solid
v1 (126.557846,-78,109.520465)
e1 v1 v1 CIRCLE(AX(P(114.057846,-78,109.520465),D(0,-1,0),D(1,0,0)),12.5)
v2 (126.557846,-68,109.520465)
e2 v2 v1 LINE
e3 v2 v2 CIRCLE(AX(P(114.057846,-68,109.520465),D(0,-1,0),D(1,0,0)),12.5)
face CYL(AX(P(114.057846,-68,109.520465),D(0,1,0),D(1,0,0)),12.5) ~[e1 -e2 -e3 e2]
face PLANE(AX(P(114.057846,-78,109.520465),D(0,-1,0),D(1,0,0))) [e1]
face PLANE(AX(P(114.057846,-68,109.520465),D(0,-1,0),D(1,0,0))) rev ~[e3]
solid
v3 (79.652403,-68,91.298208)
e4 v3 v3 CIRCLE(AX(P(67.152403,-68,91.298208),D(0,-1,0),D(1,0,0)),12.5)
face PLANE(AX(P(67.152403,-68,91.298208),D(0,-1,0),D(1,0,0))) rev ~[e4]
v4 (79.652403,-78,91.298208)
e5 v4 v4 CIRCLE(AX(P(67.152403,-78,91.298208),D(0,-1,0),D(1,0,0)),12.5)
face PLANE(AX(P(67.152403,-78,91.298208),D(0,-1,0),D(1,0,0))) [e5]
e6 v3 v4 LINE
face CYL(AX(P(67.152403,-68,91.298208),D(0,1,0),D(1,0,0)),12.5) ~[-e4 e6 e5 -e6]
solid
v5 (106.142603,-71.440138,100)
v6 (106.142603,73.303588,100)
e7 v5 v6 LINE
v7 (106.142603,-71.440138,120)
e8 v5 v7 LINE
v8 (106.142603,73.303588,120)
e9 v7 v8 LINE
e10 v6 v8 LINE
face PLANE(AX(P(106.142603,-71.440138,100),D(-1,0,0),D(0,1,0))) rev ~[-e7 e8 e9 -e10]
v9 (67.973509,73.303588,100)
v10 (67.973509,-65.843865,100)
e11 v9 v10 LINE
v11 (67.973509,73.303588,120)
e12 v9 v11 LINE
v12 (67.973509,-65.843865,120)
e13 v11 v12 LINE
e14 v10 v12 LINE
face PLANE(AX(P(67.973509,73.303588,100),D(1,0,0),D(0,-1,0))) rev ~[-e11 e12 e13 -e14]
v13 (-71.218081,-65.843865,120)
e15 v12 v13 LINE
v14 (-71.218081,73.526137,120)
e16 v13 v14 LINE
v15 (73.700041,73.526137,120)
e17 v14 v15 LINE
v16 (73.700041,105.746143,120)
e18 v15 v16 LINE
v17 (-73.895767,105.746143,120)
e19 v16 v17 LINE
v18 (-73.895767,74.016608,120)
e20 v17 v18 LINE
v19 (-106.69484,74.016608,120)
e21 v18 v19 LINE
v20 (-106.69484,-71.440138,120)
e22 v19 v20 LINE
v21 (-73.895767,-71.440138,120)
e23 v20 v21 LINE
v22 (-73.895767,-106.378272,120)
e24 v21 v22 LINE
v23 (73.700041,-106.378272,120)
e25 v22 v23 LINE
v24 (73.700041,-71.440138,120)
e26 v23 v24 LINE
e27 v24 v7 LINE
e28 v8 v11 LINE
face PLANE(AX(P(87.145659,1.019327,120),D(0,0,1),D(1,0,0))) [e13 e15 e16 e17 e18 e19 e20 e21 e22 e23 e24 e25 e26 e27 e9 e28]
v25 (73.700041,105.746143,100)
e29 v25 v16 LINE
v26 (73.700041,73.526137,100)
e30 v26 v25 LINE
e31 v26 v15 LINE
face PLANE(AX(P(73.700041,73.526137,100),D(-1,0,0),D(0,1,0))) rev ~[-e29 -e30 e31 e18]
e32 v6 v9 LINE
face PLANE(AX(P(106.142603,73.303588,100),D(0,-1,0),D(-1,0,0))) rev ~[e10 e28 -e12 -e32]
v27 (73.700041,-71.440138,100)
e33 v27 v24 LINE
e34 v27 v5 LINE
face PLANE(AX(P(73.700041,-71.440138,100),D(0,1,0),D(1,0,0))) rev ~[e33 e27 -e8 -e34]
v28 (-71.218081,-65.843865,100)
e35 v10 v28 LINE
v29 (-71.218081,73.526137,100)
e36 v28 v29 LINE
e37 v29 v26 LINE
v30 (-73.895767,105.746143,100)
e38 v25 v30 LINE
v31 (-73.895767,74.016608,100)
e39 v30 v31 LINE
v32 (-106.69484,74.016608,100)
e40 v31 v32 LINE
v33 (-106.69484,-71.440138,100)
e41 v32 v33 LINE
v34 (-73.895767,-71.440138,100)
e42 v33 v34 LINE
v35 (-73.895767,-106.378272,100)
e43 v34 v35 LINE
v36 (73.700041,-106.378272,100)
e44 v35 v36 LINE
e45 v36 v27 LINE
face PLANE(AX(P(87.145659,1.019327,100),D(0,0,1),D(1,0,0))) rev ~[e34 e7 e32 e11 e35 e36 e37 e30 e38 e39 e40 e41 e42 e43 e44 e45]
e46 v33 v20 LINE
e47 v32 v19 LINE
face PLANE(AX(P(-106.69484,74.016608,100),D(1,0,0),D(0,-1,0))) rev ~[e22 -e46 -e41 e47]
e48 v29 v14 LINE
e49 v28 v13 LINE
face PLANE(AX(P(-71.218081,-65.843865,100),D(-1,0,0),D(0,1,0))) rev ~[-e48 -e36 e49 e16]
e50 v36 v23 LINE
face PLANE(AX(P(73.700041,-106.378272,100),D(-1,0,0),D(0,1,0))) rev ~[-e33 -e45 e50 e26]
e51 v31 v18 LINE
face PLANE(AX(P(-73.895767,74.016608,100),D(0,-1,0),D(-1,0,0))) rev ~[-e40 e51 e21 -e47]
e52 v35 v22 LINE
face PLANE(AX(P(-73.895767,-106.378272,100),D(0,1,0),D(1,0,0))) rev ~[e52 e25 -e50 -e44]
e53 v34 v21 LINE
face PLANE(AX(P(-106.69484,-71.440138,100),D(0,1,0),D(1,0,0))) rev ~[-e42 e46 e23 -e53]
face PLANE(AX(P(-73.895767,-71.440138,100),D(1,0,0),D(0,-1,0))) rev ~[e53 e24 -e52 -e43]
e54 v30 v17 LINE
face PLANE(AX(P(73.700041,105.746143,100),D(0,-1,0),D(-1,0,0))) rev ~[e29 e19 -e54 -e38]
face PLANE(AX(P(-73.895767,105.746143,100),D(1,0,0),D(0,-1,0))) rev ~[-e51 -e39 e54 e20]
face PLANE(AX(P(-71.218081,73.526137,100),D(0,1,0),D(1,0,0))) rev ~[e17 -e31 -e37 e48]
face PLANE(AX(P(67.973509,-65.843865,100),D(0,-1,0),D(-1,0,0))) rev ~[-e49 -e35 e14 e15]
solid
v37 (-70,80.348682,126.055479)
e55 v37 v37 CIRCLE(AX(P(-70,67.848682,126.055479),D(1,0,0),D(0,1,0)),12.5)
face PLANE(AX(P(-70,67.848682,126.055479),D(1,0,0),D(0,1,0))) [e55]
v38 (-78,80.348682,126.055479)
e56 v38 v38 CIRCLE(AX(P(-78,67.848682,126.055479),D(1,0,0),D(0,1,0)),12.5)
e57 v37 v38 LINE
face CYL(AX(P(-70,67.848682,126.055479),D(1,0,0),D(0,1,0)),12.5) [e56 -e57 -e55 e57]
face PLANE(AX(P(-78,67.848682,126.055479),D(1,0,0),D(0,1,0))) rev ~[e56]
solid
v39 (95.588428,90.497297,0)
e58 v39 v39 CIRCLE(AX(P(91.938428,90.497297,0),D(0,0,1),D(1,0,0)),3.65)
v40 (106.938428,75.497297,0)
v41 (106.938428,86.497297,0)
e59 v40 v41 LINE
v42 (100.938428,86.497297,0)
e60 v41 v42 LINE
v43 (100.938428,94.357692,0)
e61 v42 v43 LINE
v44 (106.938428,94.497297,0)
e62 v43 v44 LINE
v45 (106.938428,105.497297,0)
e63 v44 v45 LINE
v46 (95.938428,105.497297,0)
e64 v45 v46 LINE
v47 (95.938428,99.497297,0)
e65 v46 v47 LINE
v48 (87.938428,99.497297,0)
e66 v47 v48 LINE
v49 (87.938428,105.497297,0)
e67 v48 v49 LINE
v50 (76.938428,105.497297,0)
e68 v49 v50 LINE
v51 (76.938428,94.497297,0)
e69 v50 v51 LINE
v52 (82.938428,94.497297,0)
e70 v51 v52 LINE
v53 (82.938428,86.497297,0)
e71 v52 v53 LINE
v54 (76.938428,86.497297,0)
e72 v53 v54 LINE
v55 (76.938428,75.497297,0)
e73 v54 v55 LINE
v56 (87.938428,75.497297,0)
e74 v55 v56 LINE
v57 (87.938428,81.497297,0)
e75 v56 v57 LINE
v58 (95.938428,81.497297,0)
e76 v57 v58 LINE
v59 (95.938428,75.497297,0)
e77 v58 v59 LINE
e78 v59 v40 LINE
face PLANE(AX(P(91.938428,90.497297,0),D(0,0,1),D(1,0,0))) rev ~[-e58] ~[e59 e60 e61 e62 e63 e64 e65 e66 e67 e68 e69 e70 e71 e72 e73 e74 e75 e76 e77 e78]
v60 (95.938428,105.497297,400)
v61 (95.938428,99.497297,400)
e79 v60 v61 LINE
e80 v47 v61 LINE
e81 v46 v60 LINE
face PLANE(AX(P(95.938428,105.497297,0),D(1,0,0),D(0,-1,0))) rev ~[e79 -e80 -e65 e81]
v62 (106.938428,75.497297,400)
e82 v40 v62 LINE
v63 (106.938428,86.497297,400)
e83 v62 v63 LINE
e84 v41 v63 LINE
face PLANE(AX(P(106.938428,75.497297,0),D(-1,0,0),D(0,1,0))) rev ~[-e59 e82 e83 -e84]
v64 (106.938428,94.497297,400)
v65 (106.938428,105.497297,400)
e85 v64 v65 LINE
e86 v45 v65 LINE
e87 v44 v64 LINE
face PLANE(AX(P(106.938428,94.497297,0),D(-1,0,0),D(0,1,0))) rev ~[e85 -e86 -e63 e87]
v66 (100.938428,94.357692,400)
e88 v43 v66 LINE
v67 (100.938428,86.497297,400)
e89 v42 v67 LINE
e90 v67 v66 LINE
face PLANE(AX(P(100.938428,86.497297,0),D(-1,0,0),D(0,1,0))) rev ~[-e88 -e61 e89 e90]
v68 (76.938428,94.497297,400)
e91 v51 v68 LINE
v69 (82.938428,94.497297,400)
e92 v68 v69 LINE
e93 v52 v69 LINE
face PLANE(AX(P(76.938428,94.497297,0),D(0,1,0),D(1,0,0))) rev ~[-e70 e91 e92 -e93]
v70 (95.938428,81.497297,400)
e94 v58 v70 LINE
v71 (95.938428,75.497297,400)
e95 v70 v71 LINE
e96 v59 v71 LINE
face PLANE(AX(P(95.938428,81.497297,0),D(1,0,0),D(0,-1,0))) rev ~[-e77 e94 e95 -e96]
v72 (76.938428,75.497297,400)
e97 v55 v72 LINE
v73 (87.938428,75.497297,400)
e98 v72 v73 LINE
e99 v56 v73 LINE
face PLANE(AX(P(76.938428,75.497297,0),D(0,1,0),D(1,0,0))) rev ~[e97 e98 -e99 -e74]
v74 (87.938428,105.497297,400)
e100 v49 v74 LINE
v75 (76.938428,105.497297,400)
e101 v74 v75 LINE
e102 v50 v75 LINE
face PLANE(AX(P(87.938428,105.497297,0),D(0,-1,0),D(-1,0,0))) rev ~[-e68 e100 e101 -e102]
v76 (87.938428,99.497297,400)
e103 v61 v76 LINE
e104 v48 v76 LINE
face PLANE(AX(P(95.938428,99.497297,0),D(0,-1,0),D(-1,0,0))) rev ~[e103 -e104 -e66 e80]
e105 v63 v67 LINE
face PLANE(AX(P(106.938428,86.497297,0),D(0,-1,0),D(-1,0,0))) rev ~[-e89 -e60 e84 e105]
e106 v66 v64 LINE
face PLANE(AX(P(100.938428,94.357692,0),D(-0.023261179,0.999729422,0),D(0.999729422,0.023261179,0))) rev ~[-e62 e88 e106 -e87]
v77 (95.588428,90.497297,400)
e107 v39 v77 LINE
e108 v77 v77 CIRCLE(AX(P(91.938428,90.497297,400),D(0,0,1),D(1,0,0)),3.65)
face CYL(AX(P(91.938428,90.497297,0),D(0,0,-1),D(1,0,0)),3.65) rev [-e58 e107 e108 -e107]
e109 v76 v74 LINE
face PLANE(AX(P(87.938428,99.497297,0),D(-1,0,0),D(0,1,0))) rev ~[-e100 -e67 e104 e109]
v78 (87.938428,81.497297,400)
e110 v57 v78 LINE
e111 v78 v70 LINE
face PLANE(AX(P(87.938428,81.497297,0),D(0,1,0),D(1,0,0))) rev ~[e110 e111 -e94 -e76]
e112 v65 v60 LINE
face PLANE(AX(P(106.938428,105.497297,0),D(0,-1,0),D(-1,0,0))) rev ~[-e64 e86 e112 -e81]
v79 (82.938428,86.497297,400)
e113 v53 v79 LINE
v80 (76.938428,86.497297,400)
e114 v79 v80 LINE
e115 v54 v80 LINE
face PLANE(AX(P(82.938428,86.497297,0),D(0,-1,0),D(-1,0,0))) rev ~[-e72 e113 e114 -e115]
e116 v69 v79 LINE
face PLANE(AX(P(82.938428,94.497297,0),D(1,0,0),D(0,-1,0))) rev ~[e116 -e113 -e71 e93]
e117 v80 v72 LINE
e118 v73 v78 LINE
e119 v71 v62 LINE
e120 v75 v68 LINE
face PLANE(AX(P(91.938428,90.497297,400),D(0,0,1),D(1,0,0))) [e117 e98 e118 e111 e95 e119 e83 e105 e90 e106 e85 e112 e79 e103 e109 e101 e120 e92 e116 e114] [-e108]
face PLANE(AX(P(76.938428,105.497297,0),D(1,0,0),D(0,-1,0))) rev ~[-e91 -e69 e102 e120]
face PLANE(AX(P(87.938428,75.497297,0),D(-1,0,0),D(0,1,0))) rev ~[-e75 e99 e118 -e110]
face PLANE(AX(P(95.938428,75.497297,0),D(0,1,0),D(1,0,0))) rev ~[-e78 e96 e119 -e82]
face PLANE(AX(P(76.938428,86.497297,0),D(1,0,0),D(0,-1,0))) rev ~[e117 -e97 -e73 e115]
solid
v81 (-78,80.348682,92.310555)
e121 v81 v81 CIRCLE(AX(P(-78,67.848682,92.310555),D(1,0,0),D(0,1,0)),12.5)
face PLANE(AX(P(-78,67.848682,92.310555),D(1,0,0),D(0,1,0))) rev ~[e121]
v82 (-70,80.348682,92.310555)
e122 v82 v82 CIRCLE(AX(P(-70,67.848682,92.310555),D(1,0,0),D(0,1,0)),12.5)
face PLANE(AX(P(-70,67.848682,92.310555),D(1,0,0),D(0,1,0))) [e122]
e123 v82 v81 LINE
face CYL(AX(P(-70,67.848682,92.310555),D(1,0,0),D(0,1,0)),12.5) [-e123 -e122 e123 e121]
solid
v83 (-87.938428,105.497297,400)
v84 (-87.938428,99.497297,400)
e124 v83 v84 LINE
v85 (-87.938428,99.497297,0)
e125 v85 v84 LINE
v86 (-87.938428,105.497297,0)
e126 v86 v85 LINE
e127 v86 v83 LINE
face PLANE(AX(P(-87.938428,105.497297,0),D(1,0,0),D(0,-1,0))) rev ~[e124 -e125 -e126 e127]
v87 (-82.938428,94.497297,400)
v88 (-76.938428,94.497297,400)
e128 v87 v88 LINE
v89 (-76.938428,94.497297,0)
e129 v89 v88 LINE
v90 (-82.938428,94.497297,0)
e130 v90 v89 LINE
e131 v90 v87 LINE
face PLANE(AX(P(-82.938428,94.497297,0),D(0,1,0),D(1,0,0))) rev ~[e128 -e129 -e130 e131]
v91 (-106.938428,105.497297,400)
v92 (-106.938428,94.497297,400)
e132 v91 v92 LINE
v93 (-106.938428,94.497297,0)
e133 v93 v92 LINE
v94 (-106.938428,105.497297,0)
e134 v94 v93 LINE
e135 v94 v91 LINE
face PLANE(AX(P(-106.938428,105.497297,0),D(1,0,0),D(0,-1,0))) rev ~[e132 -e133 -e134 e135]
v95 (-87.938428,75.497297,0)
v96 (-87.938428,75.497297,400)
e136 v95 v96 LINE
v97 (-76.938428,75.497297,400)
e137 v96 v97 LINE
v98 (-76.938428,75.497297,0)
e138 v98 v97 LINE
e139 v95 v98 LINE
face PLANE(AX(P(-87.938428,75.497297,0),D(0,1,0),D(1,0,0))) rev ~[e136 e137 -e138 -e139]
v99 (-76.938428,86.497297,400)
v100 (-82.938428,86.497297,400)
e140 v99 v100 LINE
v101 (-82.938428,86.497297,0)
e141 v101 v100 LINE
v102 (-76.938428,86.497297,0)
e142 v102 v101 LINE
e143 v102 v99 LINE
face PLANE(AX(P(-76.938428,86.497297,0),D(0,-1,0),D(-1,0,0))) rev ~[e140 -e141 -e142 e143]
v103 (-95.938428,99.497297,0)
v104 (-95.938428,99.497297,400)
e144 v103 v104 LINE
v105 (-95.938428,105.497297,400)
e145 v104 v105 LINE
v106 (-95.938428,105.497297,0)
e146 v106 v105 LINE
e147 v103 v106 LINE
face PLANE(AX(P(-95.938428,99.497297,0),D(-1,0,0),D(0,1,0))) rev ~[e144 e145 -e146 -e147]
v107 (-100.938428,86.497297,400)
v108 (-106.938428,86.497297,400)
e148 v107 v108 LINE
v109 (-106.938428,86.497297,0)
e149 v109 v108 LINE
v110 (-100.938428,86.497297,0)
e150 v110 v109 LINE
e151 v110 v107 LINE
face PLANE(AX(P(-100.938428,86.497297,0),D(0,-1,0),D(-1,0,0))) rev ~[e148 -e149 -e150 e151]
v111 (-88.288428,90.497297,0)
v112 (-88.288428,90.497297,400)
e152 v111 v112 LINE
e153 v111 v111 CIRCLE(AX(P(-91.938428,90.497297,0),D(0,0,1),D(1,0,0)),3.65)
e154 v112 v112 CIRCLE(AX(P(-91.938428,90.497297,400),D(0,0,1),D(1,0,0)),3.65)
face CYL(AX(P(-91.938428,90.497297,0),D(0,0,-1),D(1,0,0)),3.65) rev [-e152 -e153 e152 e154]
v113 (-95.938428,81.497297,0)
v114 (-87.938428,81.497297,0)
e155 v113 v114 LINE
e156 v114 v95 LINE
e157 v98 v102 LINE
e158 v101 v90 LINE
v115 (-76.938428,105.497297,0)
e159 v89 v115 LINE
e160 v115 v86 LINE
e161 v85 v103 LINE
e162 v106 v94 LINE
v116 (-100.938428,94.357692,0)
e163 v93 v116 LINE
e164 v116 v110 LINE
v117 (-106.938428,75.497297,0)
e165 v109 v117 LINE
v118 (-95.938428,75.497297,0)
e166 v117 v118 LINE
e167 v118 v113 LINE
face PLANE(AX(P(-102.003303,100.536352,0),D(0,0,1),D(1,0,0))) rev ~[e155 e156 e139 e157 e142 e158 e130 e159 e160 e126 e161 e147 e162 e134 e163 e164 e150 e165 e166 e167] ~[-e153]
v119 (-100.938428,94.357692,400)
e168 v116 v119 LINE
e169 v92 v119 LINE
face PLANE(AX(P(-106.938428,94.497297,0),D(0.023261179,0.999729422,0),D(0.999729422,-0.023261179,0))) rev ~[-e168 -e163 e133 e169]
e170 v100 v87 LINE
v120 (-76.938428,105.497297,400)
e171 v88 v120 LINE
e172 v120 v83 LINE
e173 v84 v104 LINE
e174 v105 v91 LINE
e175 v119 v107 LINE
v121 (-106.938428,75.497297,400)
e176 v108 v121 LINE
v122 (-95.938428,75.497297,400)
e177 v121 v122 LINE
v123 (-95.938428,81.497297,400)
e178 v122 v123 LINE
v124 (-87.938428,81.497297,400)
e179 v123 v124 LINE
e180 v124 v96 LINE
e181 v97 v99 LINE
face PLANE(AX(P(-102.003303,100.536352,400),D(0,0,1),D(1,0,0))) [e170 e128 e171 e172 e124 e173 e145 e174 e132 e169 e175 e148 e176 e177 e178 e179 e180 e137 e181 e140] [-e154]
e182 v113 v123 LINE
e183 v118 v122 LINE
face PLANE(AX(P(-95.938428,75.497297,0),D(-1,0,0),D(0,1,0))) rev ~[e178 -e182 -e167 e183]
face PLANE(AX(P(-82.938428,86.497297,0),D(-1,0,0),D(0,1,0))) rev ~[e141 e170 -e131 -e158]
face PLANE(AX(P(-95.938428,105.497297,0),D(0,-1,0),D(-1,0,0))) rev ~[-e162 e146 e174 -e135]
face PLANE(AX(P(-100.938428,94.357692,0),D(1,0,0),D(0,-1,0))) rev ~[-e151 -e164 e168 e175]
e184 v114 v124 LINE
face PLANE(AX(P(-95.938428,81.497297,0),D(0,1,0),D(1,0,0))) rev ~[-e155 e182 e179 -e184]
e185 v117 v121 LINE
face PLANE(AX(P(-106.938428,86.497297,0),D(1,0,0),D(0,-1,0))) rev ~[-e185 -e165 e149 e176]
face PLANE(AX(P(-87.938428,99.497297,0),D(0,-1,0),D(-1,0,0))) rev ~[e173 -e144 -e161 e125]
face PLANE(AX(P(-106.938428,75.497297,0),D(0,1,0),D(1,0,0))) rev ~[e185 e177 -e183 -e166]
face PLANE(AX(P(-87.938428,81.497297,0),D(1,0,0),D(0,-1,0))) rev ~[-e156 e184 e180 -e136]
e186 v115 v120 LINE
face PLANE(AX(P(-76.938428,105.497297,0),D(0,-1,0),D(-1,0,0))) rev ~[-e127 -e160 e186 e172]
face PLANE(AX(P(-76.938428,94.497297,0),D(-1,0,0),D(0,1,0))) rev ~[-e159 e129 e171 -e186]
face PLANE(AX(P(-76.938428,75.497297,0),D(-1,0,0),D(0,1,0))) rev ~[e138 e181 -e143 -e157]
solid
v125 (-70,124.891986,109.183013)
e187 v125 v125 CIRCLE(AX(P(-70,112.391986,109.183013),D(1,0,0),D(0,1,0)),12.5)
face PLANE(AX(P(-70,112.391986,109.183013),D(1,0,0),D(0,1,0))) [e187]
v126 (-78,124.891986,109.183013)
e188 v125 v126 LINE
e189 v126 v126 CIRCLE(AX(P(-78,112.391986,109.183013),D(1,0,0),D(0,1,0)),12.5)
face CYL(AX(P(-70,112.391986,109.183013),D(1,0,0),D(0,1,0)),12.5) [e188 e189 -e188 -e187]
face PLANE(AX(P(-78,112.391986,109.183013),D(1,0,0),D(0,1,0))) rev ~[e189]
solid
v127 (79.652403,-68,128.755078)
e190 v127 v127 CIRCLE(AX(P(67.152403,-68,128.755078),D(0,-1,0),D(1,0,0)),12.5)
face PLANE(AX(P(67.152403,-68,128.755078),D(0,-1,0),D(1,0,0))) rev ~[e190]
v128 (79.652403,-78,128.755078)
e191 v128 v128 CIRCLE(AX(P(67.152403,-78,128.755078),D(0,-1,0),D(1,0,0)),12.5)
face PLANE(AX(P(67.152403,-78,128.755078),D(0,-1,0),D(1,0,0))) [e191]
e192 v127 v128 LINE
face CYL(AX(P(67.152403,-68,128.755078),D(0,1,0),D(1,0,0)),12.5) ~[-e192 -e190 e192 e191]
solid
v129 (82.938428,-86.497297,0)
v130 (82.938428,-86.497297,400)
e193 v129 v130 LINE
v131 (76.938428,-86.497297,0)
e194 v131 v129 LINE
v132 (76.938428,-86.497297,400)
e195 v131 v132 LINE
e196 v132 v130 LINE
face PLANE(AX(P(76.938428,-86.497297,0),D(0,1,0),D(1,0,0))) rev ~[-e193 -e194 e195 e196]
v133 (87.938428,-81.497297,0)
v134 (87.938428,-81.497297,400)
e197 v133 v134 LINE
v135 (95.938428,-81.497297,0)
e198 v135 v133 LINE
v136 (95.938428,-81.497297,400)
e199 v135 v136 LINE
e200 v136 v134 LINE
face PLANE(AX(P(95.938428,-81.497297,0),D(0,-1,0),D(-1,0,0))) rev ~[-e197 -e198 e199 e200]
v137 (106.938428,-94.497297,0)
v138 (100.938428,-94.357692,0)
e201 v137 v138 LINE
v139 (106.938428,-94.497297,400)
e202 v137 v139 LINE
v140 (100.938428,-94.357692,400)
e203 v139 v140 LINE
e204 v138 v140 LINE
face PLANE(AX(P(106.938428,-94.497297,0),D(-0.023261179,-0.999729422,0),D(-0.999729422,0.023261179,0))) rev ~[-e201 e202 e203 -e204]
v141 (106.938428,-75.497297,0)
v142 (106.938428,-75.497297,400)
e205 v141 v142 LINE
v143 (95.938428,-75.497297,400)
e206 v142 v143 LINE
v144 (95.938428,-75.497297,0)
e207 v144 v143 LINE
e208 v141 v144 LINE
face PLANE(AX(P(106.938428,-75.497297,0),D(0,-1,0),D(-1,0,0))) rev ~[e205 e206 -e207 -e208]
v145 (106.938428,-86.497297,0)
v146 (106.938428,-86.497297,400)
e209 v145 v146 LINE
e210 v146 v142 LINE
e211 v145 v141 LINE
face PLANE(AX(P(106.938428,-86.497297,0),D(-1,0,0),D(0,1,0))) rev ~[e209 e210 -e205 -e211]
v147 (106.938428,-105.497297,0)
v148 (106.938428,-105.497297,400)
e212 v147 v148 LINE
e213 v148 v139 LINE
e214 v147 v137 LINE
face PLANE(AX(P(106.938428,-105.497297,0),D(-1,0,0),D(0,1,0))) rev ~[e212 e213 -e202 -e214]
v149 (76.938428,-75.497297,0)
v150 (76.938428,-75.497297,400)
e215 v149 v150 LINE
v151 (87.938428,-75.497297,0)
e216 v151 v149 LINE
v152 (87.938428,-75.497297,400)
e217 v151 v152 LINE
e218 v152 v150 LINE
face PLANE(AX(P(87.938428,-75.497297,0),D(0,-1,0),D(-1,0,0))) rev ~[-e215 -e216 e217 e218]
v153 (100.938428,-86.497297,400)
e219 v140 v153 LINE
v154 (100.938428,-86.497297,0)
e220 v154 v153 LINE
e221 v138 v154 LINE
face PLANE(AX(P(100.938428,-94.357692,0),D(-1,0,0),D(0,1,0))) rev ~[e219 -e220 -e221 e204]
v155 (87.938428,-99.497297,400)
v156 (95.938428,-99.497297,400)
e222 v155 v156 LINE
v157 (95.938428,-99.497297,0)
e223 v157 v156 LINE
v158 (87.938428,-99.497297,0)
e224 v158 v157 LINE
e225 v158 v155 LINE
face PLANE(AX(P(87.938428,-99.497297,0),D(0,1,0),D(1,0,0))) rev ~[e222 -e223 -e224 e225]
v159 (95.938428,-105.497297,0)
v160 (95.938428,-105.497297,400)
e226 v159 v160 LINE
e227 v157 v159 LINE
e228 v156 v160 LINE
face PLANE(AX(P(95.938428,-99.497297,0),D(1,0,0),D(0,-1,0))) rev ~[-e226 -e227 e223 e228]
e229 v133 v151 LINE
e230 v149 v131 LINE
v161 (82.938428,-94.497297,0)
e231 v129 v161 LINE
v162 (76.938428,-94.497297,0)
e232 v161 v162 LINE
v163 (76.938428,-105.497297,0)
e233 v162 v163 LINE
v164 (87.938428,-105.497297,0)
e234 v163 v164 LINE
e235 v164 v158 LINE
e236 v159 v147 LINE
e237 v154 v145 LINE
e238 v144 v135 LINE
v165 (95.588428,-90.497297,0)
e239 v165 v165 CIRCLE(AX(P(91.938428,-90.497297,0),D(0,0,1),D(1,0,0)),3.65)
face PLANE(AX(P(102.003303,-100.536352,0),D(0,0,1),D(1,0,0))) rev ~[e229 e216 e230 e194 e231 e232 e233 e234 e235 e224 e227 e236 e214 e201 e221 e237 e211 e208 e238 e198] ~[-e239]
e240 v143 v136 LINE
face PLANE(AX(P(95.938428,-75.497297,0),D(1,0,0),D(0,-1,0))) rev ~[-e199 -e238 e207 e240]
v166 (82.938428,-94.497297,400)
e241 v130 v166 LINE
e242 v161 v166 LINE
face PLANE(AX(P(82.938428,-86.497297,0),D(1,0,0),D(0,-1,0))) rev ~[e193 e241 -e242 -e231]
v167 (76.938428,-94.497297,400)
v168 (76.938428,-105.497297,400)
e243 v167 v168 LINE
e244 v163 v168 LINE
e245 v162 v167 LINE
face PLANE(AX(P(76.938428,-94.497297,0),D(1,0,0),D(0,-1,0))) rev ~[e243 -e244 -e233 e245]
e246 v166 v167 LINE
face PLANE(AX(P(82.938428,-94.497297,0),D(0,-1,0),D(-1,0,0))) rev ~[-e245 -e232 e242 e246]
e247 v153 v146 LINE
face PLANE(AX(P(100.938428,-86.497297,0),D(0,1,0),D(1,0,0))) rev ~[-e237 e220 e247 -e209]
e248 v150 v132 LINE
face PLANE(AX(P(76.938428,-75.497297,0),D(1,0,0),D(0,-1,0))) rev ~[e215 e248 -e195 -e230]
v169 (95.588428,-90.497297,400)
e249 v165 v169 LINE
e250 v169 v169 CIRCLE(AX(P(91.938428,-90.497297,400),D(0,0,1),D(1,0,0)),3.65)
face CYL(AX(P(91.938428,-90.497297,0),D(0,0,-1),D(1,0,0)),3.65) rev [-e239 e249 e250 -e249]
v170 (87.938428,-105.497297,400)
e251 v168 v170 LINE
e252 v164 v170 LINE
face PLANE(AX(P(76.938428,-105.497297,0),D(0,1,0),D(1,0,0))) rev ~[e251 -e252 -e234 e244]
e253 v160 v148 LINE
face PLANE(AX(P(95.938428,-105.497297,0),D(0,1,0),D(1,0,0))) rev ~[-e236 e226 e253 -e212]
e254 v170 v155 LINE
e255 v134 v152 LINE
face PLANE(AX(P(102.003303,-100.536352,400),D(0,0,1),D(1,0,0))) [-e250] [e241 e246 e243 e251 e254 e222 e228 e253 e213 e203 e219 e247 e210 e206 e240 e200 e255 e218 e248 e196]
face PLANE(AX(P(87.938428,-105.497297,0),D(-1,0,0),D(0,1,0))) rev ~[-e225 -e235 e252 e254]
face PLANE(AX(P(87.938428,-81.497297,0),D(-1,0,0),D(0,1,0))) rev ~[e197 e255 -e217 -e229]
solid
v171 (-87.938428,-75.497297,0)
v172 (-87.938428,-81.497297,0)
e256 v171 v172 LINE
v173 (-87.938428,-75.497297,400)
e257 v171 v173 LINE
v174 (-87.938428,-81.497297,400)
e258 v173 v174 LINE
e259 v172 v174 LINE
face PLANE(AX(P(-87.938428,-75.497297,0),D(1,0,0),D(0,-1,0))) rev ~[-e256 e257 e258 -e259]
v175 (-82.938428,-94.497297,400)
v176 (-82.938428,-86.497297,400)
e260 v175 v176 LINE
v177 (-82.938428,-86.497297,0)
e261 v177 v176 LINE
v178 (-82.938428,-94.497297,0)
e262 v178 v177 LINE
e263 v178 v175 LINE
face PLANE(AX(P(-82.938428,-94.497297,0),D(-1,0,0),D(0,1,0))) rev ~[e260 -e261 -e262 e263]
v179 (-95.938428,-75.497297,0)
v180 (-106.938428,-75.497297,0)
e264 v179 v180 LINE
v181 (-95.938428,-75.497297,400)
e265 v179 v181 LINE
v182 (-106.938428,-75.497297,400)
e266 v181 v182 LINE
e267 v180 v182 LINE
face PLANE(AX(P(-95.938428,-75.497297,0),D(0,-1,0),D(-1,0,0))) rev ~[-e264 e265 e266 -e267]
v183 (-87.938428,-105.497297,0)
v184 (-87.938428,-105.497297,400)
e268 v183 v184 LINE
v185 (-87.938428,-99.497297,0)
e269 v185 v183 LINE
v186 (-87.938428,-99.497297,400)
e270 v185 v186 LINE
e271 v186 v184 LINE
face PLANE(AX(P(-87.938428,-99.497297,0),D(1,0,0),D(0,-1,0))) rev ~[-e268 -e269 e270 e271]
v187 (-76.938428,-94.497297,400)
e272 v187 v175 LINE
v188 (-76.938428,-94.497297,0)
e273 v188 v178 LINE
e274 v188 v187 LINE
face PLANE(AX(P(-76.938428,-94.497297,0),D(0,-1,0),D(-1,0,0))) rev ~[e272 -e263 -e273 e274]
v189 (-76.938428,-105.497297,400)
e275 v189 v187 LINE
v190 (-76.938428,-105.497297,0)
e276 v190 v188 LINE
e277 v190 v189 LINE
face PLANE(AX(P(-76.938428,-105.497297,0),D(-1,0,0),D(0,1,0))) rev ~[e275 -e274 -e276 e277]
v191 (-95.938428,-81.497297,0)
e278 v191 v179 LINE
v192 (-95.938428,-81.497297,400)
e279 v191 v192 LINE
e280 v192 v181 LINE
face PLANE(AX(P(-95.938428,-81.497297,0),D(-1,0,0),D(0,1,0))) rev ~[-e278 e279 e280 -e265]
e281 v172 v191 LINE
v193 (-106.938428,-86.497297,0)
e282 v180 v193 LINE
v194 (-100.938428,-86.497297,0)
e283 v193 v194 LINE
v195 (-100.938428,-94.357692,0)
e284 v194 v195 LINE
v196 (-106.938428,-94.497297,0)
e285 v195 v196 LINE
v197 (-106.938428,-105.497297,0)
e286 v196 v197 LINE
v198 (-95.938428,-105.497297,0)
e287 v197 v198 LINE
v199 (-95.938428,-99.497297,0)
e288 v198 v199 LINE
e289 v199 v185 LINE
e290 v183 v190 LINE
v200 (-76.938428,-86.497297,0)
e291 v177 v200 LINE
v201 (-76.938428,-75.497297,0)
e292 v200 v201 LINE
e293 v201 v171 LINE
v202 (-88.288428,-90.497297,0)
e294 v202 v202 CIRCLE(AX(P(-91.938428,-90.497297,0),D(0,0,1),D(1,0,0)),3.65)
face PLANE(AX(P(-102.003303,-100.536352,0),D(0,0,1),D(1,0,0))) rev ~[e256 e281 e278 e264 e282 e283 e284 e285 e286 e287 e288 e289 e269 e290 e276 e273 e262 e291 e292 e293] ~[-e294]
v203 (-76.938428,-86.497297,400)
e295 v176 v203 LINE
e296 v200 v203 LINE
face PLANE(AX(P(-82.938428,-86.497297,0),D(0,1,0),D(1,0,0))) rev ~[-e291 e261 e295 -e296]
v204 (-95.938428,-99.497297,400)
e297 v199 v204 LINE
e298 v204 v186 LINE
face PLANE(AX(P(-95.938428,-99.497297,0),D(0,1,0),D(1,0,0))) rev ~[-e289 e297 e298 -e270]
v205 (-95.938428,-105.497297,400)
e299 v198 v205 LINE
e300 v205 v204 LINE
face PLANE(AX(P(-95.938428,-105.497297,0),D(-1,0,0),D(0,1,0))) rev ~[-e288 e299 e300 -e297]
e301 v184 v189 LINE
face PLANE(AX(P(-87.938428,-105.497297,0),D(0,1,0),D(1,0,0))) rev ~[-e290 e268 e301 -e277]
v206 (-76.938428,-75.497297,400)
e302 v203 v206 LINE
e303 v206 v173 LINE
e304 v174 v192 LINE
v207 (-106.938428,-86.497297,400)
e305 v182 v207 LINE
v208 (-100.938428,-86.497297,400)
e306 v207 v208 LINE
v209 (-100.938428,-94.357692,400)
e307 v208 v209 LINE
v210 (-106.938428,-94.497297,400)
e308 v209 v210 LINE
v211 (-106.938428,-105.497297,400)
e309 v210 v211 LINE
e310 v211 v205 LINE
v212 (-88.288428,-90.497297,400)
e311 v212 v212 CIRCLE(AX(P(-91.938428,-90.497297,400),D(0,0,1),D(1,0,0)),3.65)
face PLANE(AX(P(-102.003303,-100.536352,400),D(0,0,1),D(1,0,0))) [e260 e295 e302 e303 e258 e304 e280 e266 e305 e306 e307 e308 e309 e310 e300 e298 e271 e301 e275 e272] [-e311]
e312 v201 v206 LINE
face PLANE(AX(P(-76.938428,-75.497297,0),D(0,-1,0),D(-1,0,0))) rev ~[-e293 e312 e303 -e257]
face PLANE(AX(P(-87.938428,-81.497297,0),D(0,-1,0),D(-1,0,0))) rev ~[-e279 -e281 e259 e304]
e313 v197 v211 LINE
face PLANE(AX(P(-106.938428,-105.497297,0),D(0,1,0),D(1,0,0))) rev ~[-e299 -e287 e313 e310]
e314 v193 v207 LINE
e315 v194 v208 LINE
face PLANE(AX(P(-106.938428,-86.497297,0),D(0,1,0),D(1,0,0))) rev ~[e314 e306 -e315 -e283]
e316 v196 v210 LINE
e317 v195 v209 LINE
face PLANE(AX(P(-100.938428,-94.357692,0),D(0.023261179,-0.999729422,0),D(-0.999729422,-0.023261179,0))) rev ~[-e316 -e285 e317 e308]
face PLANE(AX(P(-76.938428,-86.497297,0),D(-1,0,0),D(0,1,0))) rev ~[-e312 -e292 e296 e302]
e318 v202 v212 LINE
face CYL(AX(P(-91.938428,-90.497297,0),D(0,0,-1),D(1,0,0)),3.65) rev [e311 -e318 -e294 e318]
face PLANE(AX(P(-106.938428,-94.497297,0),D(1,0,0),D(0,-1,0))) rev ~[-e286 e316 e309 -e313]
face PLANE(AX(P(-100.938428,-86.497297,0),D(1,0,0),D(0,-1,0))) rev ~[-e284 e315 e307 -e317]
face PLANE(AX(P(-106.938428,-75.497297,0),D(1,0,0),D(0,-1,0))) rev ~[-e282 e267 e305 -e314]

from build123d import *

# Parameters (mm, degrees)
F0_R     = 3.65
F1_DEPTH = 400
F3_START = 100
F2_W     = 5.726531148
F2_H     = 5.5962726474
F2_W_2   = 2.6776865125
F2_H_2   = 0.4904717207
F3_DEPTH = 20
F5_START = 68
F4_R     = 12.5
F5_DEPTH = 10
F7_START = -70
F6_R     = 12.5
F7_DEPTH = 8


with BuildPart() as f1:
    # F0 (on Top) → F1 (new body)
    with BuildSketch(Plane.XY):
        Polygon((100.9384279847, -99.4972968996), (95.9384279847, -99.4972968996), (95.9384279847, -105.4972968996), (106.9384279847, -105.4972968996), (106.9384279847, -94.4972968996), (100.9384279847, -94.3576920501), align=None)
        Polygon((76.9384279847, -105.4972968996), (87.9384279847, -105.4972968996), (87.9384279847, -99.4972968996), (82.9384279847, -99.4972968996), (82.9384279847, -94.4972968996), (76.9384279847, -94.4972968996), align=None)
        Polygon((82.9384279847, -99.4972968996), (87.9384279847, -99.4972968996), (95.9384279847, -99.4972968996), (100.9384279847, -99.4972968996), (100.9384279847, -94.3576920501), (100.9384279847, -86.4972968996), (100.9384279847, -81.4972968996), (95.9384279847, -81.4972968996), (87.9384279847, -81.4972968996), (82.9384279847, -81.4972968996), (82.9384279847, -86.4972968996), (82.9384279847, -94.4972968996), align=None)
        with Locations((91.9384279847, -90.4972968996)):
            Circle(F0_R, mode=Mode.SUBTRACT)
        Polygon((100.9384279847, -81.4972968996), (100.9384279847, -86.4972968996), (106.9384279847, -86.4972968996), (106.9384279847, -75.4972968996), (95.9384279847, -75.4972968996), (95.9384279847, -81.4972968996), align=None)
        Polygon((76.9384279847, -86.4972968996), (82.9384279847, -86.4972968996), (82.9384279847, -81.4972968996), (87.9384279847, -81.4972968996), (87.9384279847, -75.4972968996), (76.9384279847, -75.4972968996), align=None)
    extrude(amount=F1_DEPTH)


with BuildPart() as f1b:
    # F0 (on Top) → F1, piece 2 (new body)
    with BuildSketch(Plane.XY):
        Polygon((87.9384279847, 81.4972968996), (95.9384279847, 81.4972968996), (100.9384279847, 81.4972968996), (100.9384279847, 86.4972968996), (100.9384279847, 94.3576920501), (100.9384279847, 99.4972968996), (95.9384279847, 99.4972968996), (87.9384279847, 99.4972968996), (82.9384279847, 99.4972968996), (82.9384279847, 94.4972968996), (82.9384279847, 86.4972968996), (82.9384279847, 81.4972968996), align=None)
        with Locations((91.9384279847, 90.4972968996)):
            Circle(F0_R, mode=Mode.SUBTRACT)
        Polygon((100.9384279847, 99.4972968996), (100.9384279847, 94.3576920501), (106.9384279847, 94.4972968996), (106.9384279847, 105.4972968996), (95.9384279847, 105.4972968996), (95.9384279847, 99.4972968996), align=None)
        Polygon((87.9384279847, 75.4972968996), (87.9384279847, 81.4972968996), (82.9384279847, 81.4972968996), (82.9384279847, 86.4972968996), (76.9384279847, 86.4972968996), (76.9384279847, 75.4972968996), align=None)
        Polygon((95.9384279847, 75.4972968996), (106.9384279847, 75.4972968996), (106.9384279847, 86.4972968996), (100.9384279847, 86.4972968996), (100.9384279847, 81.4972968996), (95.9384279847, 81.4972968996), align=None)
        Polygon((76.9384279847, 94.4972968996), (82.9384279847, 94.4972968996), (82.9384279847, 99.4972968996), (87.9384279847, 99.4972968996), (87.9384279847, 105.4972968996), (76.9384279847, 105.4972968996), align=None)
    extrude(amount=F1_DEPTH)


with BuildPart() as f1c:
    # F0 (on Top) → F1, piece 3 (new body)
    with BuildSketch(Plane.XY):
        Polygon((-100.9384279847, -99.4972968996), (-100.9384279847, -94.3576920501), (-106.9384279847, -94.4972968996), (-106.9384279847, -105.4972968996), (-95.9384279847, -105.4972968996), (-95.9384279847, -99.4972968996), align=None)
        Polygon((-106.9384279847, -86.4972968996), (-100.9384279847, -86.4972968996), (-100.9384279847, -81.4972968996), (-95.9384279847, -81.4972968996), (-95.9384279847, -75.4972968996), (-106.9384279847, -75.4972968996), align=None)
        Polygon((-87.9384279847, -75.4972968996), (-87.9384279847, -81.4972968996), (-82.9384279847, -81.4972968996), (-82.9384279847, -86.4972968996), (-76.9384279847, -86.4972968996), (-76.9384279847, -75.4972968996), align=None)
        Polygon((-82.9384279847, -99.4972968996), (-87.9384279847, -99.4972968996), (-87.9384279847, -105.4972968996), (-76.9384279847, -105.4972968996), (-76.9384279847, -94.4972968996), (-82.9384279847, -94.4972968996), align=None)
        Polygon((-100.9384279847, -86.4972968996), (-100.9384279847, -94.3576920501), (-100.9384279847, -99.4972968996), (-95.9384279847, -99.4972968996), (-87.9384279847, -99.4972968996), (-82.9384279847, -99.4972968996), (-82.9384279847, -94.4972968996), (-82.9384279847, -86.4972968996), (-82.9384279847, -81.4972968996), (-87.9384279847, -81.4972968996), (-95.9384279847, -81.4972968996), (-100.9384279847, -81.4972968996), align=None)
        with Locations((-91.9384279847, -90.4972968996)):
            Circle(F0_R, mode=Mode.SUBTRACT)
    extrude(amount=F1_DEPTH)


with BuildPart() as f1d:
    # F0 (on Top) → F1, piece 4 (new body)
    with BuildSketch(Plane.XY):
        Polygon((-106.9384279847, 94.4972968996), (-100.9384279847, 94.3576920501), (-100.9384279847, 99.4972968996), (-95.9384279847, 99.4972968996), (-95.9384279847, 105.4972968996), (-106.9384279847, 105.4972968996), align=None)
        Polygon((-95.9384279847, 75.4972968996), (-95.9384279847, 81.4972968996), (-100.9384279847, 81.4972968996), (-100.9384279847, 86.4972968996), (-106.9384279847, 86.4972968996), (-106.9384279847, 75.4972968996), align=None)
        Polygon((-82.9384279847, 86.4972968996), (-82.9384279847, 81.4972968996), (-87.9384279847, 81.4972968996), (-87.9384279847, 75.4972968996), (-76.9384279847, 75.4972968996), (-76.9384279847, 86.4972968996), align=None)
        Polygon((-82.9384279847, 99.4972968996), (-82.9384279847, 94.4972968996), (-76.9384279847, 94.4972968996), (-76.9384279847, 105.4972968996), (-87.9384279847, 105.4972968996), (-87.9384279847, 99.4972968996), align=None)
        Polygon((-87.9384279847, 81.4972968996), (-82.9384279847, 81.4972968996), (-82.9384279847, 86.4972968996), (-82.9384279847, 94.4972968996), (-82.9384279847, 99.4972968996), (-87.9384279847, 99.4972968996), (-95.9384279847, 99.4972968996), (-100.9384279847, 99.4972968996), (-100.9384279847, 94.3576920501), (-100.9384279847, 86.4972968996), (-100.9384279847, 81.4972968996), (-95.9384279847, 81.4972968996), align=None)
        with Locations((-91.9384279847, 90.4972968996)):
            Circle(F0_R, mode=Mode.SUBTRACT)
    extrude(amount=F1_DEPTH)


with BuildPart() as f3:
    # F2 (on Top) → F3 (new body)
    with BuildSketch(Plane.XY.offset(F3_START)):
        Polygon((106.1426028609, 73.3035877347), (67.9735094309, 73.3035877347), (67.9735094309, -65.8438652754), (73.7000405788, -65.8438652754), (73.7000405788, -71.4401379228), (106.1426028609, -71.4401379228), align=None)
        with Locations((70.8367750049, -68.6420015991)):
            Rectangle(F2_W, F2_H)
        Polygon((67.9735094309, -71.4401379228), (67.9735094309, -65.8438652754), (-71.2180808187, -65.8438652754), (-71.2180808187, -71.4401379228), (-73.8957673311, -71.4401379228), (-73.8957673311, -106.3782721758), (73.7000405788, -106.3782721758), (73.7000405788, -71.4401379228), align=None)
        Polygon((-73.8957673311, -65.8438652754), (-71.2180808187, -65.8438652754), (-71.2180808187, 73.5261365771), (-73.8957673311, 73.5261365771), (-73.8957673311, 74.0166082978), (-106.6948398948, 74.0166082978), (-106.6948398948, -71.4401379228), (-73.8957673311, -71.4401379228), align=None)
        with Locations((-72.5569240749, -68.6420015991)):
            Rectangle(F2_W_2, F2_H)
        with Locations((-72.5569240749, 73.7713724375)):
            Rectangle(F2_W_2, F2_H_2)
        Polygon((-71.2180808187, 74.0166082978), (-71.2180808187, 73.5261365771), (73.7000405788, 73.5261365771), (73.7000405788, 105.7461425662), (-73.8957673311, 105.7461425662), (-73.8957673311, 74.0166082978), align=None)
    extrude(amount=F3_DEPTH)


with BuildPart() as f5:
    # F4 (on Front) → F5 (new body)
    with BuildSketch(Plane.XZ.offset(F5_START)):
        with Locations((67.152403295, 128.7550777197)):
            Circle(F4_R)
    extrude(amount=F5_DEPTH)


with BuildPart() as f5b:
    # F4 (on Front) → F5, piece 2 (new body)
    with BuildSketch(Plane.XZ.offset(F5_START)):
        with Locations((67.152403295, 91.2982076406)):
            Circle(F4_R)
    extrude(amount=F5_DEPTH)


with BuildPart() as f5c:
    # F4 (on Front) → F5, piece 3 (new body)
    with BuildSketch(Plane.XZ.offset(F5_START)):
        with Locations((114.0578463674, 109.5204651356)):
            Circle(F4_R)
    extrude(amount=F5_DEPTH)


with BuildPart() as f7:
    # F6 (on Right) → F7 (new body)
    with BuildSketch(Plane.YZ.offset(F7_START)):
        with Locations((67.8486824036, 126.0554790497)):
            Circle(F6_R)
    extrude(amount=-F7_DEPTH)


with BuildPart() as f7b:
    # F6 (on Right) → F7, piece 2 (new body)
    with BuildSketch(Plane.YZ.offset(F7_START)):
        with Locations((67.8486824036, 92.3105552793)):
            Circle(F6_R)
    extrude(amount=-F7_DEPTH)


with BuildPart() as f7c:
    # F6 (on Right) → F7, piece 3 (new body)
    with BuildSketch(Plane.YZ.offset(F7_START)):
        with Locations((112.3919859529, 109.1830134392)):
            Circle(F6_R)
    extrude(amount=-F7_DEPTH)


solid = Compound([f1.part, f1b.part, f1c.part, f1d.part, f3.part, f5.part, f5b.part, f5c.part, f7.part, f7b.part, f7c.part])
